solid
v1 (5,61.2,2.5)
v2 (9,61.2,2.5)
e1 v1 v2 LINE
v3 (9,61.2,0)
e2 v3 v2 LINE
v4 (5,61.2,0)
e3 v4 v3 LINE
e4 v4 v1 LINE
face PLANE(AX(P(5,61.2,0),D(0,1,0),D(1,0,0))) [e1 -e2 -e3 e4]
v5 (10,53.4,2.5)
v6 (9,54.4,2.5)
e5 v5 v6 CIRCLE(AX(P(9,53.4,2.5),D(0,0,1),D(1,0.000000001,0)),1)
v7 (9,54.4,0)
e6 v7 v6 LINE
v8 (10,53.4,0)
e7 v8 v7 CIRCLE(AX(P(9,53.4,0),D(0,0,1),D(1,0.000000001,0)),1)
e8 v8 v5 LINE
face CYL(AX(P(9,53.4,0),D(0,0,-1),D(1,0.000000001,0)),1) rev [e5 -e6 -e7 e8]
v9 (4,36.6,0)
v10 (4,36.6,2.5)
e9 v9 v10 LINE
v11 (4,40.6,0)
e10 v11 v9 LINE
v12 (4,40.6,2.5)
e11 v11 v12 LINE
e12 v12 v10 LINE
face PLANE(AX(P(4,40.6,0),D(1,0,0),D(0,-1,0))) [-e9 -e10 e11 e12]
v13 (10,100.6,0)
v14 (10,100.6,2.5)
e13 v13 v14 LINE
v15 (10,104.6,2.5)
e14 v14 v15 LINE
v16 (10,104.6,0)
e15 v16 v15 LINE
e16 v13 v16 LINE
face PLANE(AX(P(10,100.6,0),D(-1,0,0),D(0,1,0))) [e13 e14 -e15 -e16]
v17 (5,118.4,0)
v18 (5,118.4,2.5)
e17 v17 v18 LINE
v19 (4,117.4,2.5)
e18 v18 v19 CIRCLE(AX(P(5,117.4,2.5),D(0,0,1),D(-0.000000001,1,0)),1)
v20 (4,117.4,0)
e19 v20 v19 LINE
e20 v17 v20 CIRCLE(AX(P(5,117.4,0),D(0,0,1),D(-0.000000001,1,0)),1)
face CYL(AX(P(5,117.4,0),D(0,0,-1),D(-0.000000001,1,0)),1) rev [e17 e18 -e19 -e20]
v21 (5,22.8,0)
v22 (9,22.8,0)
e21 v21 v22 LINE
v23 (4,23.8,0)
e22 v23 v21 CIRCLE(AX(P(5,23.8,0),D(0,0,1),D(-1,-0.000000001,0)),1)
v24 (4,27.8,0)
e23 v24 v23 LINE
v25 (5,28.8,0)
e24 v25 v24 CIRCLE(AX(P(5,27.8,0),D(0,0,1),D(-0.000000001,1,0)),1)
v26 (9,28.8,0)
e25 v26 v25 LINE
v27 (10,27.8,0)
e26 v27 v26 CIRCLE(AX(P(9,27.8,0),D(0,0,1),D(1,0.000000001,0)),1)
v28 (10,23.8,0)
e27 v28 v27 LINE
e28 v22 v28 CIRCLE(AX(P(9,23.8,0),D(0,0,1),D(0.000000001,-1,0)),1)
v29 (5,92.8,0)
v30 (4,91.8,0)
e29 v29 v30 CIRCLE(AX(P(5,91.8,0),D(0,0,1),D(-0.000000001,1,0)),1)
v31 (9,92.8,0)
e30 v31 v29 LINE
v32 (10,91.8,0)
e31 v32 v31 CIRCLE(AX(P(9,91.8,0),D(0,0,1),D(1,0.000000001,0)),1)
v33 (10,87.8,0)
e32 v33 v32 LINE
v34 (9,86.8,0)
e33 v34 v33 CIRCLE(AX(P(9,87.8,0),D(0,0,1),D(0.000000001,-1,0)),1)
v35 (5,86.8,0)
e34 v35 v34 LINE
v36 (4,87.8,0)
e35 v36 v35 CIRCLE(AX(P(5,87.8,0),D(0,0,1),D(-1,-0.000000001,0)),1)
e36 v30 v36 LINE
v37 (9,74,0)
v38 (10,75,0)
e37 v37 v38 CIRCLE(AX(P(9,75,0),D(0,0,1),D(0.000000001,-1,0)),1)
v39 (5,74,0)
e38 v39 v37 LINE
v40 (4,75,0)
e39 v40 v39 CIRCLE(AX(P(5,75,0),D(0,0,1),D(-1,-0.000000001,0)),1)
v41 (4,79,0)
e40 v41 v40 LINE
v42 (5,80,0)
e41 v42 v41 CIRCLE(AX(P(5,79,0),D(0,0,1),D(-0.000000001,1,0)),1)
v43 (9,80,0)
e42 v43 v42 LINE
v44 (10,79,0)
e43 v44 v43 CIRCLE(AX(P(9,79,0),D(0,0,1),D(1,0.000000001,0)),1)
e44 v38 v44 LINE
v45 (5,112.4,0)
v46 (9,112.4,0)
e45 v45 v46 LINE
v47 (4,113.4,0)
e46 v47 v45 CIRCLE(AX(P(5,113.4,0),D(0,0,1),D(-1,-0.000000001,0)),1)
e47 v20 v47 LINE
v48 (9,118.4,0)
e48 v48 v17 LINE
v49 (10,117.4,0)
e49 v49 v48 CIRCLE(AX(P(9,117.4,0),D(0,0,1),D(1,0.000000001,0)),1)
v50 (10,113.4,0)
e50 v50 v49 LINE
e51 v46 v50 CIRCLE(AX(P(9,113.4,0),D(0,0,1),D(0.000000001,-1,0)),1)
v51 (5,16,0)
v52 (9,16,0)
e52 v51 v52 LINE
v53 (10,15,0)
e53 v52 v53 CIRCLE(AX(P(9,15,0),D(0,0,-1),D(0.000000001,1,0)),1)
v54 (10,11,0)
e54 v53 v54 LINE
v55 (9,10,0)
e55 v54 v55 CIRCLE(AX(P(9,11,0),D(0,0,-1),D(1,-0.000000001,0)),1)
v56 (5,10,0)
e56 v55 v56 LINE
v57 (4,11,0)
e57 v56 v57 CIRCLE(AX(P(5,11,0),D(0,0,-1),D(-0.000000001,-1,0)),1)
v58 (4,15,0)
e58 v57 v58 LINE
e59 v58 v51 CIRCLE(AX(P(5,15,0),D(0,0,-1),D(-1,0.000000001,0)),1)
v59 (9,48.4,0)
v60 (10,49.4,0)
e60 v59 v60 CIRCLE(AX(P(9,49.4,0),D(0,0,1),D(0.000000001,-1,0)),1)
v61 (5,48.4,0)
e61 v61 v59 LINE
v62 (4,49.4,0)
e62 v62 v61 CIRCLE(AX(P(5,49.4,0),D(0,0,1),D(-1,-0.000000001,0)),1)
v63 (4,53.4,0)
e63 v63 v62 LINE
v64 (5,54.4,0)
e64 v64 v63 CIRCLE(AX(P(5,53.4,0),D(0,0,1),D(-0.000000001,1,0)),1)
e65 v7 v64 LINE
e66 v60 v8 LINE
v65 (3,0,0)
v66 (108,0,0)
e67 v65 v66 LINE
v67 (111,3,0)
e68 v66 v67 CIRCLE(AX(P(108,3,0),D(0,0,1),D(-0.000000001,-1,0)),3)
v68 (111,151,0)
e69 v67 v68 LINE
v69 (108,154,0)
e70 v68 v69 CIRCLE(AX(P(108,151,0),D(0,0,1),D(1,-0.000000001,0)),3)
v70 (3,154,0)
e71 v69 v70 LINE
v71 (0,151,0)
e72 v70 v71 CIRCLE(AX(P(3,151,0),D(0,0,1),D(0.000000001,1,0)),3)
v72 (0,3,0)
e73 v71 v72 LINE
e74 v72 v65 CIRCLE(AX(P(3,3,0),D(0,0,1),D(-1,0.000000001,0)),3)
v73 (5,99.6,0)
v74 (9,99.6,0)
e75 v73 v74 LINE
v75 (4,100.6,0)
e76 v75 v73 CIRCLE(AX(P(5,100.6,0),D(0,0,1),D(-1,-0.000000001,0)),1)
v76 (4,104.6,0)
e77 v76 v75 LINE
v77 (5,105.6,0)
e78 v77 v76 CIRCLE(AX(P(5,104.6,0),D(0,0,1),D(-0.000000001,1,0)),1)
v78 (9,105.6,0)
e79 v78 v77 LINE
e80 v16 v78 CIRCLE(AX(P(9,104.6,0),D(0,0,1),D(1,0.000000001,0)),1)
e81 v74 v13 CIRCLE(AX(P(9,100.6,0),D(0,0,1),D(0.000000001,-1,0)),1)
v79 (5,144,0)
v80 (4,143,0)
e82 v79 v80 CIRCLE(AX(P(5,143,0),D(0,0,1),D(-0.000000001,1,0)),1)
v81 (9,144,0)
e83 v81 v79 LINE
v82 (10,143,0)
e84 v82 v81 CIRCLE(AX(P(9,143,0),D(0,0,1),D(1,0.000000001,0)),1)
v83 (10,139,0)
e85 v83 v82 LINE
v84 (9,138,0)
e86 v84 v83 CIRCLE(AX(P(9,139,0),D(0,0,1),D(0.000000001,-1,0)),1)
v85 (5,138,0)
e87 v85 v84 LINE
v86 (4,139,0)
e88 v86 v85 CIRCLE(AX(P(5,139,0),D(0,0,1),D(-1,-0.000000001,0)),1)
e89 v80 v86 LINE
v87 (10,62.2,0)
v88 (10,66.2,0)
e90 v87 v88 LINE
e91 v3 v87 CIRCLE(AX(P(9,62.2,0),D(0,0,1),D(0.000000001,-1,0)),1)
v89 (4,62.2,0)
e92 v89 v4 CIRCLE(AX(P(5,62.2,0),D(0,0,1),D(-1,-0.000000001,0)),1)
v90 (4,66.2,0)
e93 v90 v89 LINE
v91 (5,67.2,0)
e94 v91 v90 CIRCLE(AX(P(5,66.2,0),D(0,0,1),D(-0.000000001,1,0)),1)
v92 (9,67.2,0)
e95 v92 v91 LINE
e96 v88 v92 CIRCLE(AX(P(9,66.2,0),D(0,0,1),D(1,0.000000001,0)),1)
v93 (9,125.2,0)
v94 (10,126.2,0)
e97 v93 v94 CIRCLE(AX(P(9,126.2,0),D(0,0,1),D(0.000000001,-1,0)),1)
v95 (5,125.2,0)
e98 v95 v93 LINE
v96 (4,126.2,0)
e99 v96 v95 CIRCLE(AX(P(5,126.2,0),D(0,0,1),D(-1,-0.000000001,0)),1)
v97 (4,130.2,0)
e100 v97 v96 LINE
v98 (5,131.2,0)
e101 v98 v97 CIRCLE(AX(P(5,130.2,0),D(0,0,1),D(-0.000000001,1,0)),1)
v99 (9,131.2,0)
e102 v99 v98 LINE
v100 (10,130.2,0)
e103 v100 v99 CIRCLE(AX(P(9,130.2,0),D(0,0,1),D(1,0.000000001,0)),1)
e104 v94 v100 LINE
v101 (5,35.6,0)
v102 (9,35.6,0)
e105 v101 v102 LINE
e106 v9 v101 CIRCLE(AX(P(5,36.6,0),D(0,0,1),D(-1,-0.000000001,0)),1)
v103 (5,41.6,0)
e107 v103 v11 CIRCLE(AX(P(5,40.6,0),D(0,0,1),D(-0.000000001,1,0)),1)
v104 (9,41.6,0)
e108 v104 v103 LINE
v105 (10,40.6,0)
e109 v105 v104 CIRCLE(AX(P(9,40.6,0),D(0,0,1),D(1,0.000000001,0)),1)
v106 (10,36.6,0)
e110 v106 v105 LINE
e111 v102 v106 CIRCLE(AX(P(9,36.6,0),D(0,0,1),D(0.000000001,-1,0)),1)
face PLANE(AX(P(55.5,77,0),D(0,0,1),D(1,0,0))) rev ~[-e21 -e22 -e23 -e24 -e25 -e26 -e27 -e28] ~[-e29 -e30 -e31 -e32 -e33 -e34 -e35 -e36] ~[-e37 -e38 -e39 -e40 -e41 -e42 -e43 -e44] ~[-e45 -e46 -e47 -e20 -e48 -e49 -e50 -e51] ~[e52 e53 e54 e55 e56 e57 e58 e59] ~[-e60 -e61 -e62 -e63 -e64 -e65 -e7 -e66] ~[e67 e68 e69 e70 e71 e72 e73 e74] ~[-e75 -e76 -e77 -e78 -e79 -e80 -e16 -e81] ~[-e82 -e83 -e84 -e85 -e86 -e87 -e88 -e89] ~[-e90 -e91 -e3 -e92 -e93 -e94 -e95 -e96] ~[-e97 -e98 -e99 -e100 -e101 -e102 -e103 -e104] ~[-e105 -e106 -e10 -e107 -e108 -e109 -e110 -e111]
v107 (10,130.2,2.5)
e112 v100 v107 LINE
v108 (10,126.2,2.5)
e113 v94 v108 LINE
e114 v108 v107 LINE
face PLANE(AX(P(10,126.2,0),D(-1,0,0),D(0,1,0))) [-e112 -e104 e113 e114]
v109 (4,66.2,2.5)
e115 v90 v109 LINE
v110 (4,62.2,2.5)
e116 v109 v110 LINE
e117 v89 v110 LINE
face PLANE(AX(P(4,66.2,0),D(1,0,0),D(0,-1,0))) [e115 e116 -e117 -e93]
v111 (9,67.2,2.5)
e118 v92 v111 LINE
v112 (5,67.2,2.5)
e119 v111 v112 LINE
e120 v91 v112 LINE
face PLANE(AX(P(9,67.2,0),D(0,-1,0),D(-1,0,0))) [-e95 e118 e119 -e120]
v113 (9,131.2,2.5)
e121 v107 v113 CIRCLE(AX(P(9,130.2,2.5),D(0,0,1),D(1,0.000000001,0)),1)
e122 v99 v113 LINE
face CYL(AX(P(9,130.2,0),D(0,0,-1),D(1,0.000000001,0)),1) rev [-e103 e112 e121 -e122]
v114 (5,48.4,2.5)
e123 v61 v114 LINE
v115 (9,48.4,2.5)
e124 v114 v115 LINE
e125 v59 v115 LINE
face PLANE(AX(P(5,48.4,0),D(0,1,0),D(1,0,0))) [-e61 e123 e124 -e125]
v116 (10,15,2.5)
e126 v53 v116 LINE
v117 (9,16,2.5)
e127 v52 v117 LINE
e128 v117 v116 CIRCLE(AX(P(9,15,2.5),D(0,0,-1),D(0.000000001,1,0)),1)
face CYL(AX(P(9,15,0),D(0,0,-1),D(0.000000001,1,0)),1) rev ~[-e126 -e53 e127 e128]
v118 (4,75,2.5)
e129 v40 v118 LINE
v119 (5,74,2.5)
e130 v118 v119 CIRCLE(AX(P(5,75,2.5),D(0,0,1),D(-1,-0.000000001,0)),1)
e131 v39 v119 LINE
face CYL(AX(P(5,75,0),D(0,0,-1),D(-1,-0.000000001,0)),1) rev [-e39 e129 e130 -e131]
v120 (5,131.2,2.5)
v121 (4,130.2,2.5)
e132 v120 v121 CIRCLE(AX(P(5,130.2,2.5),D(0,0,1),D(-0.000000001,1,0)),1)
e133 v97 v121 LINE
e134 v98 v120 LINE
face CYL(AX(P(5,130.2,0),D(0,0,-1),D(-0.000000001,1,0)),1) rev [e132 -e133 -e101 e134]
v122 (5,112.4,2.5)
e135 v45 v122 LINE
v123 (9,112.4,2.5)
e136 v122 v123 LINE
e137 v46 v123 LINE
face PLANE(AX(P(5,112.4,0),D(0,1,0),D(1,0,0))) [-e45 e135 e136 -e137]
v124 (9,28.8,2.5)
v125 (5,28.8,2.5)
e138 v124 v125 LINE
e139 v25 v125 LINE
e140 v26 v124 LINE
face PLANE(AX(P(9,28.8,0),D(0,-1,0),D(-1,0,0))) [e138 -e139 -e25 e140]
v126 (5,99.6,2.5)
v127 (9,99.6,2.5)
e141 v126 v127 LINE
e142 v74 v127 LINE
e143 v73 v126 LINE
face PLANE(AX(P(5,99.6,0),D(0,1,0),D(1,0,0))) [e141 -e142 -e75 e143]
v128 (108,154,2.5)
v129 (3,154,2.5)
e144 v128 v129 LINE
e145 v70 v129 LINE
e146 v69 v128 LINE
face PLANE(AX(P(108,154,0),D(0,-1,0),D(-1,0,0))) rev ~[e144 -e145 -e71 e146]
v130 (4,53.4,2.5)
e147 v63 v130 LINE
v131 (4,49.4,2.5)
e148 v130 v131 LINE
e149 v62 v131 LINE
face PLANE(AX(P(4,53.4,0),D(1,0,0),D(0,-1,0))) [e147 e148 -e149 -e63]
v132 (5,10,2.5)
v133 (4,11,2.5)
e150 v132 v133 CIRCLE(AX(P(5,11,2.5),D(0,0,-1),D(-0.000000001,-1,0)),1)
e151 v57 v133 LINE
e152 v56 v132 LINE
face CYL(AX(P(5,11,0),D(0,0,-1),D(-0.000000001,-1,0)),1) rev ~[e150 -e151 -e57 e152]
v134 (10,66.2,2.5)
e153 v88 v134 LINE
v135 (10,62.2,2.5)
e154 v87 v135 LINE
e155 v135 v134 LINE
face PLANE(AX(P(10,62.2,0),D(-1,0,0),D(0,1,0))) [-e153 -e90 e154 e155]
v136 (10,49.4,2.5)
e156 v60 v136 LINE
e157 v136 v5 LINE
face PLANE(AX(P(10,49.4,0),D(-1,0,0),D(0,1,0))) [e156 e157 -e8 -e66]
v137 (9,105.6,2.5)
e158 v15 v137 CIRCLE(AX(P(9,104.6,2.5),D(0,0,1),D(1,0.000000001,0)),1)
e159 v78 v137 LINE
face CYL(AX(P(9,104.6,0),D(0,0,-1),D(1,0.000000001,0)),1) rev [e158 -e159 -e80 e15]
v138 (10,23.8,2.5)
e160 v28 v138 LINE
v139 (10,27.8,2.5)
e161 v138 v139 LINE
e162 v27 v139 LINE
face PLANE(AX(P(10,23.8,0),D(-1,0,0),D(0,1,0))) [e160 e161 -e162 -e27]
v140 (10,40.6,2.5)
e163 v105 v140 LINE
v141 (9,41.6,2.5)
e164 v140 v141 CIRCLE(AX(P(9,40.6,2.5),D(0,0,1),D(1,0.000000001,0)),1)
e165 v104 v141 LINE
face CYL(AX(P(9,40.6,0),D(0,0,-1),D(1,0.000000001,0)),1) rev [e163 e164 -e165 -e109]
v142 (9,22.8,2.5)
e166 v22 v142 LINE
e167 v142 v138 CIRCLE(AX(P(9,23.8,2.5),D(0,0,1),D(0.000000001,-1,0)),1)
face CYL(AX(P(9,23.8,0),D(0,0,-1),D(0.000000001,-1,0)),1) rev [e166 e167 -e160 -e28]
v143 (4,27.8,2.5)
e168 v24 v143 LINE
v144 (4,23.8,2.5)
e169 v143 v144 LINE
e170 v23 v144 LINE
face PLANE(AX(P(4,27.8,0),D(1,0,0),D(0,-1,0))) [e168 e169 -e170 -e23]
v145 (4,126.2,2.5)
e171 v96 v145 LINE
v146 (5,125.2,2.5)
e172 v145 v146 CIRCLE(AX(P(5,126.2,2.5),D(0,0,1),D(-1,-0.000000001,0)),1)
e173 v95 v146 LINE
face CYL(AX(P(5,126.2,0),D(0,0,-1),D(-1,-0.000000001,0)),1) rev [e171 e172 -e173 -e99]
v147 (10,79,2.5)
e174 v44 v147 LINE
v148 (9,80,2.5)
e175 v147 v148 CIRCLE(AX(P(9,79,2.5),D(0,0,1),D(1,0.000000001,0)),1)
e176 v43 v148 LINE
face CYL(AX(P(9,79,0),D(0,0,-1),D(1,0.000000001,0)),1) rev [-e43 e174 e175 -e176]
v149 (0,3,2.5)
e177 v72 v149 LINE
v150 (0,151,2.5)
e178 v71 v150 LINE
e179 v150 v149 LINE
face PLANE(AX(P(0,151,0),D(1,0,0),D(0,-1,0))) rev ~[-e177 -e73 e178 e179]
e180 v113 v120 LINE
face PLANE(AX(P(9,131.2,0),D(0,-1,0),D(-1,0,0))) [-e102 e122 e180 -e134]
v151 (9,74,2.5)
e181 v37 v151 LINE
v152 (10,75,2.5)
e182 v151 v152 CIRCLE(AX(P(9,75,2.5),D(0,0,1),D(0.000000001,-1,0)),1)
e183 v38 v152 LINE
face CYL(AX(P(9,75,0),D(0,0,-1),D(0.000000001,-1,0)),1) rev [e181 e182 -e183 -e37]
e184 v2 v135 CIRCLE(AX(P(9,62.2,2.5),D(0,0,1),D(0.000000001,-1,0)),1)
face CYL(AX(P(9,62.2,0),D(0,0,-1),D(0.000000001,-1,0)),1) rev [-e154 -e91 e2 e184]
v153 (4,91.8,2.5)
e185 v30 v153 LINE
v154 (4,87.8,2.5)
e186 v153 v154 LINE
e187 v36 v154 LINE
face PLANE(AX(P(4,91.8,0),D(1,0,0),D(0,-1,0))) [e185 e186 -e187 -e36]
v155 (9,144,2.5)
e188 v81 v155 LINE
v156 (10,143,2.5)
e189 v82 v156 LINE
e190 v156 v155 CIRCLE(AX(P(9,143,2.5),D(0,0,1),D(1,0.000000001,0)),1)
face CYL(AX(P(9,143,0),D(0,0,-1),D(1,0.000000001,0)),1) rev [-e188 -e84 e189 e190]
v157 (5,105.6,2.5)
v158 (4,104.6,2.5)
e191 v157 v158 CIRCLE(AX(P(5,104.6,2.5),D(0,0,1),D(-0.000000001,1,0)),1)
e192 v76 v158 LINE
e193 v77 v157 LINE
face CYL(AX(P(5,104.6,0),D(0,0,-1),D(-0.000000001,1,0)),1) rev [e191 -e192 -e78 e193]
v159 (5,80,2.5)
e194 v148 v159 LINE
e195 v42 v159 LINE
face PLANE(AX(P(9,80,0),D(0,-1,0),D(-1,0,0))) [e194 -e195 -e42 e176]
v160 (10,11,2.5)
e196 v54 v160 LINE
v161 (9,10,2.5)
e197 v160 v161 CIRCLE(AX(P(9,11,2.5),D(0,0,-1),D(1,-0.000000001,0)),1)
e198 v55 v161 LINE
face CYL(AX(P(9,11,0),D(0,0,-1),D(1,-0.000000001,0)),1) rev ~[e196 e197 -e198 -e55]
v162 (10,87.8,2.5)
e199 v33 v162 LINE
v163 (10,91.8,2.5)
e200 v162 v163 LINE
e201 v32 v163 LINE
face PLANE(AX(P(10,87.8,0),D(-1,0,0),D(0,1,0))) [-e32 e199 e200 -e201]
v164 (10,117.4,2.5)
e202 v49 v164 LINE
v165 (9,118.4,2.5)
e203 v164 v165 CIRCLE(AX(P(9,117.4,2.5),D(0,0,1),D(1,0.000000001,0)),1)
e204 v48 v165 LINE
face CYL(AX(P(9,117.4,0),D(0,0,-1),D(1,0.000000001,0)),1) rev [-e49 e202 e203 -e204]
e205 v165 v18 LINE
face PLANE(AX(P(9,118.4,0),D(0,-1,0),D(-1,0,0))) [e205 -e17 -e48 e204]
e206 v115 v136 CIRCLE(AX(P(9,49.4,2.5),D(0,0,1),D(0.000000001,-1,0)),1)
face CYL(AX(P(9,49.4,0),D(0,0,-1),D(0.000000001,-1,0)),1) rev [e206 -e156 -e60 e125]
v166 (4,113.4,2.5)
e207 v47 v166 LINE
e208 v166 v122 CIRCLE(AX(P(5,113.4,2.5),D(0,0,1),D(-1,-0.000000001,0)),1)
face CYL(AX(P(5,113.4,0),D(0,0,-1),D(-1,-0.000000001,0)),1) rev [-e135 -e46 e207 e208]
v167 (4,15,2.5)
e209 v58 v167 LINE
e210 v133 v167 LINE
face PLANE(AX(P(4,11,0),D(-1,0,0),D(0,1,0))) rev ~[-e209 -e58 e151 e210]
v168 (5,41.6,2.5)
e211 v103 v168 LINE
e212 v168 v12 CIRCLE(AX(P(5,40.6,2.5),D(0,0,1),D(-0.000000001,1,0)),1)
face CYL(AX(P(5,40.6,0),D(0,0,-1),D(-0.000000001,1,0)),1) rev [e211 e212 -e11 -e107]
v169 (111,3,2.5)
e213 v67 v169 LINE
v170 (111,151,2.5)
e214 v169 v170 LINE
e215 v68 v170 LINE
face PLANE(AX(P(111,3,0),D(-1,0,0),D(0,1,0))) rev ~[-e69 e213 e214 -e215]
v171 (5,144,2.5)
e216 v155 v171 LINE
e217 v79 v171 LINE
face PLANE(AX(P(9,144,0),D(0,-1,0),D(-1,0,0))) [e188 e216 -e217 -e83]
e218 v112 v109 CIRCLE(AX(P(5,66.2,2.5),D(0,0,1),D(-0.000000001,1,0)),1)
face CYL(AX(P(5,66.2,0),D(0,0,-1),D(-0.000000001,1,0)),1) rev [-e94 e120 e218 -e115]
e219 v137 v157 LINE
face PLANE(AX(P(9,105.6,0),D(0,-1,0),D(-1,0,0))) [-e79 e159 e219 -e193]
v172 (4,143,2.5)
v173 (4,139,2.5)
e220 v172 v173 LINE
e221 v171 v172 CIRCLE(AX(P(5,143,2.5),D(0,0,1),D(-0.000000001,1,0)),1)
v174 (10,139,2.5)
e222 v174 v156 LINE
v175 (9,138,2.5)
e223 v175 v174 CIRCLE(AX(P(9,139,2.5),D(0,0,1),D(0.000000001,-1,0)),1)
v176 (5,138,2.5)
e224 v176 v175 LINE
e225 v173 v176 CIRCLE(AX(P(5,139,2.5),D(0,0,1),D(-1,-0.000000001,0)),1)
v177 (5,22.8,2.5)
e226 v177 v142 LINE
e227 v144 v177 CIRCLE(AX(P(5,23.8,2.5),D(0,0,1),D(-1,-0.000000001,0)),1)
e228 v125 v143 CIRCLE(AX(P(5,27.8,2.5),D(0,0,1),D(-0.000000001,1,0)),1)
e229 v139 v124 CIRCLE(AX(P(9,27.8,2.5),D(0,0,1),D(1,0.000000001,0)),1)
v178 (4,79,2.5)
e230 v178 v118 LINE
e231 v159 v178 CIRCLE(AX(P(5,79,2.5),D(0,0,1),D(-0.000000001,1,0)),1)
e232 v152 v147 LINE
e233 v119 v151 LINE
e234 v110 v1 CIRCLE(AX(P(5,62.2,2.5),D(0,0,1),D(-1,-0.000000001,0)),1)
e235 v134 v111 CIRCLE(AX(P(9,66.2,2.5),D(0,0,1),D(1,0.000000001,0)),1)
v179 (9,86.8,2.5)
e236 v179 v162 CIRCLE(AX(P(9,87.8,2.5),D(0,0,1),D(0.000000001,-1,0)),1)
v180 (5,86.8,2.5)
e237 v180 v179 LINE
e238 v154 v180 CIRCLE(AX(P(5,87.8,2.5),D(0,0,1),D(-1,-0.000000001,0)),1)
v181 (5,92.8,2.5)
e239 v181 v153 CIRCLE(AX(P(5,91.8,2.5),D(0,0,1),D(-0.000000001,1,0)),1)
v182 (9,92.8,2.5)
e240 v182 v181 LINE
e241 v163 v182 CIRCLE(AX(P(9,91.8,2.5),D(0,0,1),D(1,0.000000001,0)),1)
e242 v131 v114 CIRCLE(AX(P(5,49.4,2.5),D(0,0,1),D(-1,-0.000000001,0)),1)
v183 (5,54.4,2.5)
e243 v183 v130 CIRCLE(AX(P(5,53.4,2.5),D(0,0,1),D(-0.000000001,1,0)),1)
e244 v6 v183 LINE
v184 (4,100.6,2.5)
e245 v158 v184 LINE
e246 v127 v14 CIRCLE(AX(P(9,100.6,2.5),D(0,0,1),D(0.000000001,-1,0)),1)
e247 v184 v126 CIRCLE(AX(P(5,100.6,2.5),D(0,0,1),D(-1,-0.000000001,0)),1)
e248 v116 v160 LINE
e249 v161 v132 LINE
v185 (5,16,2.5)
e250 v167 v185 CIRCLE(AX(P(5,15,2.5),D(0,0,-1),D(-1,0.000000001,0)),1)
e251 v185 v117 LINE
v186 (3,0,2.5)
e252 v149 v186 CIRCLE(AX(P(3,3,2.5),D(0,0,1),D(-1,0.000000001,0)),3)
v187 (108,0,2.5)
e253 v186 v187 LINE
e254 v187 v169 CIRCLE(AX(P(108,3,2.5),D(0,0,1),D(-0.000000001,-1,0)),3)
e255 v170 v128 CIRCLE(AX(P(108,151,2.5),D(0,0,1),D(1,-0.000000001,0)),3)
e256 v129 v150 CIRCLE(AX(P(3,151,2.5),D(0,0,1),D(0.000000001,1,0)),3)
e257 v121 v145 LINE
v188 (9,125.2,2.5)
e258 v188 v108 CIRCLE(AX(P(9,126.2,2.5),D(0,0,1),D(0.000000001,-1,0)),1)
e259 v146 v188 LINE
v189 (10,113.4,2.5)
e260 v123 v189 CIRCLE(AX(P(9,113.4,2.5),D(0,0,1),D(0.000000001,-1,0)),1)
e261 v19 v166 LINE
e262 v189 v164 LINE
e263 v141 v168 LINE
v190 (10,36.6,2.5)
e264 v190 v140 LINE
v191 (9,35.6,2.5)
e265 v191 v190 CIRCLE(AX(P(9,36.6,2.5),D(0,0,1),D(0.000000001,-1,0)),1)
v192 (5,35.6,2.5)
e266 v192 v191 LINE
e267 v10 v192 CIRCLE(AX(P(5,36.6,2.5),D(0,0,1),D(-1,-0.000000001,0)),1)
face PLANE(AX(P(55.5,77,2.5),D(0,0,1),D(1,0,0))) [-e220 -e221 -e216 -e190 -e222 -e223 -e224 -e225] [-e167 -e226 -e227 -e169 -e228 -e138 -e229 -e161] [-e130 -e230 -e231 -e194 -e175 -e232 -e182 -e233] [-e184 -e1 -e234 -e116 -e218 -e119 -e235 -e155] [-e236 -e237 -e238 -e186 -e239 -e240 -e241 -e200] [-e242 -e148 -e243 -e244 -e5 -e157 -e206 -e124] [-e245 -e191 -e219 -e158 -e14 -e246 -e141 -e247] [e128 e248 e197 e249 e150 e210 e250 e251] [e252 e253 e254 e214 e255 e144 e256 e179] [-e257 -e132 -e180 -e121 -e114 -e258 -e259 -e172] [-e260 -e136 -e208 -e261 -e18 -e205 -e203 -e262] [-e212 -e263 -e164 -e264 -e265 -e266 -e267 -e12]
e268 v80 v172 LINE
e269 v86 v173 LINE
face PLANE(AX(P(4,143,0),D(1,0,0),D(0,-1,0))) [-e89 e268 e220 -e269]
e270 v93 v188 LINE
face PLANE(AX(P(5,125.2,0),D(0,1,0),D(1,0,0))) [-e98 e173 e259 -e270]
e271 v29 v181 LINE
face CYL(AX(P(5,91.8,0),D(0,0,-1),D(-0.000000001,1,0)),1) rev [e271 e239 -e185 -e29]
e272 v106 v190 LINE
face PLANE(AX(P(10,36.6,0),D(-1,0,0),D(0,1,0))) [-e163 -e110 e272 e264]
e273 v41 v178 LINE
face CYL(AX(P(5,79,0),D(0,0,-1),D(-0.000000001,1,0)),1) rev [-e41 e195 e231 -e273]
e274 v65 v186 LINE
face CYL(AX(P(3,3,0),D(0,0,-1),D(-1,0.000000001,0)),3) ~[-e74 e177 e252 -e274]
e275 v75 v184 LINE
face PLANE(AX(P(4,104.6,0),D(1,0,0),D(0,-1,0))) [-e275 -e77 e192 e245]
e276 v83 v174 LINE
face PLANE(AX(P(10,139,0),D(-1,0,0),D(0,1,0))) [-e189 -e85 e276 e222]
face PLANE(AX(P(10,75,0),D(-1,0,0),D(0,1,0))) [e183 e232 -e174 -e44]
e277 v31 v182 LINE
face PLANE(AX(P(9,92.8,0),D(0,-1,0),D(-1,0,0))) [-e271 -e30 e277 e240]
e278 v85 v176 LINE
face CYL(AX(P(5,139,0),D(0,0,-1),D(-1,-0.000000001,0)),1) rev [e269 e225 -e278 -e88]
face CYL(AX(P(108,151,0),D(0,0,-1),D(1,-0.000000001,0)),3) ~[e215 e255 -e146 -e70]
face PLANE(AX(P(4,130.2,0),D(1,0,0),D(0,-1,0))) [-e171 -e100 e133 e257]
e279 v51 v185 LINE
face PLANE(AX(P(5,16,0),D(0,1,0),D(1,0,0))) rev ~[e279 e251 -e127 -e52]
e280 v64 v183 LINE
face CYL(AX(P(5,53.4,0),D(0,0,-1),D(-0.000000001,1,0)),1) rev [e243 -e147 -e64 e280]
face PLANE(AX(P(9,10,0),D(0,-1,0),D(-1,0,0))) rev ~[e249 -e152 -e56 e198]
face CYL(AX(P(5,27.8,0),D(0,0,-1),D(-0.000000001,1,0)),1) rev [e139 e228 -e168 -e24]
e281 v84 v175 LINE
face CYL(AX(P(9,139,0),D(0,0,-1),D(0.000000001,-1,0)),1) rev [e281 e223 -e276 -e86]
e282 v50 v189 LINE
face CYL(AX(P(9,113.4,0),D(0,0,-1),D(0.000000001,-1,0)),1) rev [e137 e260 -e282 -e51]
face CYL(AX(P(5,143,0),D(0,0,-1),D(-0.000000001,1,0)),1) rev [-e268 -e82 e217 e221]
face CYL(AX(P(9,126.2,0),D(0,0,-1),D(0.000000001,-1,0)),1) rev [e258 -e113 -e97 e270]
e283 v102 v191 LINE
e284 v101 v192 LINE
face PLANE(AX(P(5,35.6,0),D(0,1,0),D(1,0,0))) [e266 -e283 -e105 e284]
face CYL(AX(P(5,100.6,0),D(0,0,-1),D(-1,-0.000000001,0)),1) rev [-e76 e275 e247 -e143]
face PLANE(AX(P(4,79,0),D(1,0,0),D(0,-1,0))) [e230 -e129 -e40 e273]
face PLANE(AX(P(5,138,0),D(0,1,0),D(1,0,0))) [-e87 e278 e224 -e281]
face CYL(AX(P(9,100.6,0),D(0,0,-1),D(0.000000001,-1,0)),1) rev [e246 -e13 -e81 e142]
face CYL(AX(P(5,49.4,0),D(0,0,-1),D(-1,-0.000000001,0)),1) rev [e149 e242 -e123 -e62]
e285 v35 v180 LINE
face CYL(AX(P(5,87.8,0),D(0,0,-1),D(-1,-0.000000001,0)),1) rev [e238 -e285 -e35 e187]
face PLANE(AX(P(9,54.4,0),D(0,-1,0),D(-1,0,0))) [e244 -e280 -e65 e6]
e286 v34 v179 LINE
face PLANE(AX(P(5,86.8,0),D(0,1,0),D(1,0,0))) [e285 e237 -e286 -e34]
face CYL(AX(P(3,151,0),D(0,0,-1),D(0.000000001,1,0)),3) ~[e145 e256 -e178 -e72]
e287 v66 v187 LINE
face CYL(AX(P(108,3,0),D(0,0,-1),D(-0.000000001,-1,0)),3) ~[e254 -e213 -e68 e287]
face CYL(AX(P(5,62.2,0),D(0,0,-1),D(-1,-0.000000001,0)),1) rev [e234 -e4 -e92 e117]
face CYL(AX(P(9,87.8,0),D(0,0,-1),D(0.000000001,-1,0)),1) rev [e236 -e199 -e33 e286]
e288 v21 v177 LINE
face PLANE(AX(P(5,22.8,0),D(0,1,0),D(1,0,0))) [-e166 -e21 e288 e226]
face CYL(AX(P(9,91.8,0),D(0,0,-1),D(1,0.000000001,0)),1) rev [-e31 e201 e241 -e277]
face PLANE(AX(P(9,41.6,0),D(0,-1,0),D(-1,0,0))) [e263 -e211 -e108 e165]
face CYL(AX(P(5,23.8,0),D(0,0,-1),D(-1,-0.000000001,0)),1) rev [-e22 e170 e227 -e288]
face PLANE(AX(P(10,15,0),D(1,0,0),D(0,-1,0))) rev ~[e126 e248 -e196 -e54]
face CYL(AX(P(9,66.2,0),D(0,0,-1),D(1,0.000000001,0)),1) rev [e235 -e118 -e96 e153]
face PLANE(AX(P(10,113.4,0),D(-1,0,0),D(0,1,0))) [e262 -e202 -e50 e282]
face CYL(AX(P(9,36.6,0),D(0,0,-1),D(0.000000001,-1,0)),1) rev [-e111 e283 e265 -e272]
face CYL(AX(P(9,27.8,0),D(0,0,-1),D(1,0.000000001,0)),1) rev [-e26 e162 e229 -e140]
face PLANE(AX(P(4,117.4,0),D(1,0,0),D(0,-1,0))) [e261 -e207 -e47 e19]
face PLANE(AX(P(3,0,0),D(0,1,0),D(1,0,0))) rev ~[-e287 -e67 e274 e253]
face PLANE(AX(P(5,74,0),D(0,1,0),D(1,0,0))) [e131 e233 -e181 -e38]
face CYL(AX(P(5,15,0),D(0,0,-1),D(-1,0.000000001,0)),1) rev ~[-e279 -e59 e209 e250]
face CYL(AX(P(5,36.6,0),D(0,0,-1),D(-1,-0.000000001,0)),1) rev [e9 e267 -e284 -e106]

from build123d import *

# Parameters (mm, degrees)
BOSS_EXTRUDE1_DEPTH = 2.5


with BuildPart() as part:
    # Sketch1 → Boss-Extrude1 (new body)
    with BuildSketch(Plane.XY):
        with BuildLine():
            Line((3, 0), (108, 0))
            ThreePointArc((108, 0), (110.121320344, 0.878679656), (111, 3))
            Line((111, 3), (111, 151))
            ThreePointArc((111, 151), (110.121320344, 153.121320344), (108, 154))
            Line((108, 154), (3, 154))
            ThreePointArc((3, 154), (0.878679656, 153.121320344), (0, 151))
            Line((0, 151), (0, 3))
            ThreePointArc((0, 3), (0.878679656, 0.878679656), (3, 0))
        make_face()
        with BuildLine():
            Line((5, 22.8), (9, 22.8))
            ThreePointArc((9, 22.8), (9.707106781, 23.092893219), (10, 23.8))
            Line((10, 23.8), (10, 27.8))
            ThreePointArc((10, 27.8), (9.707106781, 28.507106781), (9, 28.8))
            Line((9, 28.8), (5, 28.8))
            ThreePointArc((5, 28.8), (4.292893219, 28.507106781), (4, 27.8))
            Line((4, 27.8), (4, 23.8))
            ThreePointArc((4, 23.8), (4.292893219, 23.092893219), (5, 22.8))
        make_face(mode=Mode.SUBTRACT)
        with BuildLine():
            Line((5, 16), (9, 16))
            ThreePointArc((9, 16), (9.707106781, 15.707106781), (10, 15))
            Line((10, 15), (10, 11))
            ThreePointArc((10, 11), (9.707106781, 10.292893219), (9, 10))
            Line((9, 10), (5, 10))
            ThreePointArc((5, 10), (4.292893219, 10.292893219), (4, 11))
            Line((4, 11), (4, 15))
            ThreePointArc((4, 15), (4.292893219, 15.707106781), (5, 16))
        make_face(mode=Mode.SUBTRACT)
        with BuildLine():
            Line((5, 35.6), (9, 35.6))
            ThreePointArc((9, 35.6), (9.707106781, 35.892893219), (10, 36.6))
            Line((10, 36.6), (10, 40.6))
            ThreePointArc((10, 40.6), (9.707106781, 41.307106781), (9, 41.6))
            Line((9, 41.6), (5, 41.6))
            ThreePointArc((5, 41.6), (4.292893219, 41.307106781), (4, 40.6))
            Line((4, 40.6), (4, 36.6))
            ThreePointArc((4, 36.6), (4.292893219, 35.892893219), (5, 35.6))
        make_face(mode=Mode.SUBTRACT)
        with BuildLine():
            Line((5, 48.4), (9, 48.4))
            ThreePointArc((9, 48.4), (9.707106781, 48.692893219), (10, 49.4))
            Line((10, 49.4), (10, 53.4))
            ThreePointArc((10, 53.4), (9.707106781, 54.107106781), (9, 54.4))
            Line((9, 54.4), (5, 54.4))
            ThreePointArc((5, 54.4), (4.292893219, 54.107106781), (4, 53.4))
            Line((4, 53.4), (4, 49.4))
            ThreePointArc((4, 49.4), (4.292893219, 48.692893219), (5, 48.4))
        make_face(mode=Mode.SUBTRACT)
        with BuildLine():
            Line((5, 61.2), (9, 61.2))
            ThreePointArc((9, 61.2), (9.707106781, 61.492893219), (10, 62.2))
            Line((10, 62.2), (10, 66.2))
            ThreePointArc((10, 66.2), (9.707106781, 66.907106781), (9, 67.2))
            Line((9, 67.2), (5, 67.2))
            ThreePointArc((5, 67.2), (4.292893219, 66.907106781), (4, 66.2))
            Line((4, 66.2), (4, 62.2))
            ThreePointArc((4, 62.2), (4.292893219, 61.492893219), (5, 61.2))
        make_face(mode=Mode.SUBTRACT)
        with BuildLine():
            Line((5, 74), (9, 74))
            ThreePointArc((9, 74), (9.707106781, 74.292893219), (10, 75))
            Line((10, 75), (10, 79))
            ThreePointArc((10, 79), (9.707106781, 79.707106781), (9, 80))
            Line((9, 80), (5, 80))
            ThreePointArc((5, 80), (4.292893219, 79.707106781), (4, 79))
            Line((4, 79), (4, 75))
            ThreePointArc((4, 75), (4.292893219, 74.292893219), (5, 74))
        make_face(mode=Mode.SUBTRACT)
        with BuildLine():
            Line((5, 86.8), (9, 86.8))
            ThreePointArc((9, 86.8), (9.707106781, 87.092893219), (10, 87.8))
            Line((10, 87.8), (10, 91.8))
            ThreePointArc((10, 91.8), (9.707106781, 92.507106781), (9, 92.8))
            Line((9, 92.8), (5, 92.8))
            ThreePointArc((5, 92.8), (4.292893219, 92.507106781), (4, 91.8))
            Line((4, 91.8), (4, 87.8))
            ThreePointArc((4, 87.8), (4.292893219, 87.092893219), (5, 86.8))
        make_face(mode=Mode.SUBTRACT)
        with BuildLine():
            Line((5, 99.6), (9, 99.6))
            ThreePointArc((9, 99.6), (9.707106781, 99.892893219), (10, 100.6))
            Line((10, 100.6), (10, 104.6))
            ThreePointArc((10, 104.6), (9.707106781, 105.307106781), (9, 105.6))
            Line((9, 105.6), (5, 105.6))
            ThreePointArc((5, 105.6), (4.292893219, 105.307106781), (4, 104.6))
            Line((4, 104.6), (4, 100.6))
            ThreePointArc((4, 100.6), (4.292893219, 99.892893219), (5, 99.6))
        make_face(mode=Mode.SUBTRACT)
        with BuildLine():
            Line((5, 112.4), (9, 112.4))
            ThreePointArc((9, 112.4), (9.707106781, 112.692893219), (10, 113.4))
            Line((10, 113.4), (10, 117.4))
            ThreePointArc((10, 117.4), (9.707106781, 118.107106781), (9, 118.4))
            Line((9, 118.4), (5, 118.4))
            ThreePointArc((5, 118.4), (4.292893219, 118.107106781), (4, 117.4))
            Line((4, 117.4), (4, 113.4))
            ThreePointArc((4, 113.4), (4.292893219, 112.692893219), (5, 112.4))
        make_face(mode=Mode.SUBTRACT)
        with BuildLine():
            Line((5, 125.2), (9, 125.2))
            ThreePointArc((9, 125.2), (9.707106781, 125.492893219), (10, 126.2))
            Line((10, 126.2), (10, 130.2))
            ThreePointArc((10, 130.2), (9.707106781, 130.907106781), (9, 131.2))
            Line((9, 131.2), (5, 131.2))
            ThreePointArc((5, 131.2), (4.292893219, 130.907106781), (4, 130.2))
            Line((4, 130.2), (4, 126.2))
            ThreePointArc((4, 126.2), (4.292893219, 125.492893219), (5, 125.2))
        make_face(mode=Mode.SUBTRACT)
        with BuildLine():
            Line((5, 138), (9, 138))
            ThreePointArc((9, 138), (9.707106781, 138.292893219), (10, 139))
            Line((10, 139), (10, 143))
            ThreePointArc((10, 143), (9.707106781, 143.707106781), (9, 144))
            Line((9, 144), (5, 144))
            ThreePointArc((5, 144), (4.292893219, 143.707106781), (4, 143))
            Line((4, 143), (4, 139))
            ThreePointArc((4, 139), (4.292893219, 138.292893219), (5, 138))
        make_face(mode=Mode.SUBTRACT)
    extrude(amount=BOSS_EXTRUDE1_DEPTH)


solid = part.part
